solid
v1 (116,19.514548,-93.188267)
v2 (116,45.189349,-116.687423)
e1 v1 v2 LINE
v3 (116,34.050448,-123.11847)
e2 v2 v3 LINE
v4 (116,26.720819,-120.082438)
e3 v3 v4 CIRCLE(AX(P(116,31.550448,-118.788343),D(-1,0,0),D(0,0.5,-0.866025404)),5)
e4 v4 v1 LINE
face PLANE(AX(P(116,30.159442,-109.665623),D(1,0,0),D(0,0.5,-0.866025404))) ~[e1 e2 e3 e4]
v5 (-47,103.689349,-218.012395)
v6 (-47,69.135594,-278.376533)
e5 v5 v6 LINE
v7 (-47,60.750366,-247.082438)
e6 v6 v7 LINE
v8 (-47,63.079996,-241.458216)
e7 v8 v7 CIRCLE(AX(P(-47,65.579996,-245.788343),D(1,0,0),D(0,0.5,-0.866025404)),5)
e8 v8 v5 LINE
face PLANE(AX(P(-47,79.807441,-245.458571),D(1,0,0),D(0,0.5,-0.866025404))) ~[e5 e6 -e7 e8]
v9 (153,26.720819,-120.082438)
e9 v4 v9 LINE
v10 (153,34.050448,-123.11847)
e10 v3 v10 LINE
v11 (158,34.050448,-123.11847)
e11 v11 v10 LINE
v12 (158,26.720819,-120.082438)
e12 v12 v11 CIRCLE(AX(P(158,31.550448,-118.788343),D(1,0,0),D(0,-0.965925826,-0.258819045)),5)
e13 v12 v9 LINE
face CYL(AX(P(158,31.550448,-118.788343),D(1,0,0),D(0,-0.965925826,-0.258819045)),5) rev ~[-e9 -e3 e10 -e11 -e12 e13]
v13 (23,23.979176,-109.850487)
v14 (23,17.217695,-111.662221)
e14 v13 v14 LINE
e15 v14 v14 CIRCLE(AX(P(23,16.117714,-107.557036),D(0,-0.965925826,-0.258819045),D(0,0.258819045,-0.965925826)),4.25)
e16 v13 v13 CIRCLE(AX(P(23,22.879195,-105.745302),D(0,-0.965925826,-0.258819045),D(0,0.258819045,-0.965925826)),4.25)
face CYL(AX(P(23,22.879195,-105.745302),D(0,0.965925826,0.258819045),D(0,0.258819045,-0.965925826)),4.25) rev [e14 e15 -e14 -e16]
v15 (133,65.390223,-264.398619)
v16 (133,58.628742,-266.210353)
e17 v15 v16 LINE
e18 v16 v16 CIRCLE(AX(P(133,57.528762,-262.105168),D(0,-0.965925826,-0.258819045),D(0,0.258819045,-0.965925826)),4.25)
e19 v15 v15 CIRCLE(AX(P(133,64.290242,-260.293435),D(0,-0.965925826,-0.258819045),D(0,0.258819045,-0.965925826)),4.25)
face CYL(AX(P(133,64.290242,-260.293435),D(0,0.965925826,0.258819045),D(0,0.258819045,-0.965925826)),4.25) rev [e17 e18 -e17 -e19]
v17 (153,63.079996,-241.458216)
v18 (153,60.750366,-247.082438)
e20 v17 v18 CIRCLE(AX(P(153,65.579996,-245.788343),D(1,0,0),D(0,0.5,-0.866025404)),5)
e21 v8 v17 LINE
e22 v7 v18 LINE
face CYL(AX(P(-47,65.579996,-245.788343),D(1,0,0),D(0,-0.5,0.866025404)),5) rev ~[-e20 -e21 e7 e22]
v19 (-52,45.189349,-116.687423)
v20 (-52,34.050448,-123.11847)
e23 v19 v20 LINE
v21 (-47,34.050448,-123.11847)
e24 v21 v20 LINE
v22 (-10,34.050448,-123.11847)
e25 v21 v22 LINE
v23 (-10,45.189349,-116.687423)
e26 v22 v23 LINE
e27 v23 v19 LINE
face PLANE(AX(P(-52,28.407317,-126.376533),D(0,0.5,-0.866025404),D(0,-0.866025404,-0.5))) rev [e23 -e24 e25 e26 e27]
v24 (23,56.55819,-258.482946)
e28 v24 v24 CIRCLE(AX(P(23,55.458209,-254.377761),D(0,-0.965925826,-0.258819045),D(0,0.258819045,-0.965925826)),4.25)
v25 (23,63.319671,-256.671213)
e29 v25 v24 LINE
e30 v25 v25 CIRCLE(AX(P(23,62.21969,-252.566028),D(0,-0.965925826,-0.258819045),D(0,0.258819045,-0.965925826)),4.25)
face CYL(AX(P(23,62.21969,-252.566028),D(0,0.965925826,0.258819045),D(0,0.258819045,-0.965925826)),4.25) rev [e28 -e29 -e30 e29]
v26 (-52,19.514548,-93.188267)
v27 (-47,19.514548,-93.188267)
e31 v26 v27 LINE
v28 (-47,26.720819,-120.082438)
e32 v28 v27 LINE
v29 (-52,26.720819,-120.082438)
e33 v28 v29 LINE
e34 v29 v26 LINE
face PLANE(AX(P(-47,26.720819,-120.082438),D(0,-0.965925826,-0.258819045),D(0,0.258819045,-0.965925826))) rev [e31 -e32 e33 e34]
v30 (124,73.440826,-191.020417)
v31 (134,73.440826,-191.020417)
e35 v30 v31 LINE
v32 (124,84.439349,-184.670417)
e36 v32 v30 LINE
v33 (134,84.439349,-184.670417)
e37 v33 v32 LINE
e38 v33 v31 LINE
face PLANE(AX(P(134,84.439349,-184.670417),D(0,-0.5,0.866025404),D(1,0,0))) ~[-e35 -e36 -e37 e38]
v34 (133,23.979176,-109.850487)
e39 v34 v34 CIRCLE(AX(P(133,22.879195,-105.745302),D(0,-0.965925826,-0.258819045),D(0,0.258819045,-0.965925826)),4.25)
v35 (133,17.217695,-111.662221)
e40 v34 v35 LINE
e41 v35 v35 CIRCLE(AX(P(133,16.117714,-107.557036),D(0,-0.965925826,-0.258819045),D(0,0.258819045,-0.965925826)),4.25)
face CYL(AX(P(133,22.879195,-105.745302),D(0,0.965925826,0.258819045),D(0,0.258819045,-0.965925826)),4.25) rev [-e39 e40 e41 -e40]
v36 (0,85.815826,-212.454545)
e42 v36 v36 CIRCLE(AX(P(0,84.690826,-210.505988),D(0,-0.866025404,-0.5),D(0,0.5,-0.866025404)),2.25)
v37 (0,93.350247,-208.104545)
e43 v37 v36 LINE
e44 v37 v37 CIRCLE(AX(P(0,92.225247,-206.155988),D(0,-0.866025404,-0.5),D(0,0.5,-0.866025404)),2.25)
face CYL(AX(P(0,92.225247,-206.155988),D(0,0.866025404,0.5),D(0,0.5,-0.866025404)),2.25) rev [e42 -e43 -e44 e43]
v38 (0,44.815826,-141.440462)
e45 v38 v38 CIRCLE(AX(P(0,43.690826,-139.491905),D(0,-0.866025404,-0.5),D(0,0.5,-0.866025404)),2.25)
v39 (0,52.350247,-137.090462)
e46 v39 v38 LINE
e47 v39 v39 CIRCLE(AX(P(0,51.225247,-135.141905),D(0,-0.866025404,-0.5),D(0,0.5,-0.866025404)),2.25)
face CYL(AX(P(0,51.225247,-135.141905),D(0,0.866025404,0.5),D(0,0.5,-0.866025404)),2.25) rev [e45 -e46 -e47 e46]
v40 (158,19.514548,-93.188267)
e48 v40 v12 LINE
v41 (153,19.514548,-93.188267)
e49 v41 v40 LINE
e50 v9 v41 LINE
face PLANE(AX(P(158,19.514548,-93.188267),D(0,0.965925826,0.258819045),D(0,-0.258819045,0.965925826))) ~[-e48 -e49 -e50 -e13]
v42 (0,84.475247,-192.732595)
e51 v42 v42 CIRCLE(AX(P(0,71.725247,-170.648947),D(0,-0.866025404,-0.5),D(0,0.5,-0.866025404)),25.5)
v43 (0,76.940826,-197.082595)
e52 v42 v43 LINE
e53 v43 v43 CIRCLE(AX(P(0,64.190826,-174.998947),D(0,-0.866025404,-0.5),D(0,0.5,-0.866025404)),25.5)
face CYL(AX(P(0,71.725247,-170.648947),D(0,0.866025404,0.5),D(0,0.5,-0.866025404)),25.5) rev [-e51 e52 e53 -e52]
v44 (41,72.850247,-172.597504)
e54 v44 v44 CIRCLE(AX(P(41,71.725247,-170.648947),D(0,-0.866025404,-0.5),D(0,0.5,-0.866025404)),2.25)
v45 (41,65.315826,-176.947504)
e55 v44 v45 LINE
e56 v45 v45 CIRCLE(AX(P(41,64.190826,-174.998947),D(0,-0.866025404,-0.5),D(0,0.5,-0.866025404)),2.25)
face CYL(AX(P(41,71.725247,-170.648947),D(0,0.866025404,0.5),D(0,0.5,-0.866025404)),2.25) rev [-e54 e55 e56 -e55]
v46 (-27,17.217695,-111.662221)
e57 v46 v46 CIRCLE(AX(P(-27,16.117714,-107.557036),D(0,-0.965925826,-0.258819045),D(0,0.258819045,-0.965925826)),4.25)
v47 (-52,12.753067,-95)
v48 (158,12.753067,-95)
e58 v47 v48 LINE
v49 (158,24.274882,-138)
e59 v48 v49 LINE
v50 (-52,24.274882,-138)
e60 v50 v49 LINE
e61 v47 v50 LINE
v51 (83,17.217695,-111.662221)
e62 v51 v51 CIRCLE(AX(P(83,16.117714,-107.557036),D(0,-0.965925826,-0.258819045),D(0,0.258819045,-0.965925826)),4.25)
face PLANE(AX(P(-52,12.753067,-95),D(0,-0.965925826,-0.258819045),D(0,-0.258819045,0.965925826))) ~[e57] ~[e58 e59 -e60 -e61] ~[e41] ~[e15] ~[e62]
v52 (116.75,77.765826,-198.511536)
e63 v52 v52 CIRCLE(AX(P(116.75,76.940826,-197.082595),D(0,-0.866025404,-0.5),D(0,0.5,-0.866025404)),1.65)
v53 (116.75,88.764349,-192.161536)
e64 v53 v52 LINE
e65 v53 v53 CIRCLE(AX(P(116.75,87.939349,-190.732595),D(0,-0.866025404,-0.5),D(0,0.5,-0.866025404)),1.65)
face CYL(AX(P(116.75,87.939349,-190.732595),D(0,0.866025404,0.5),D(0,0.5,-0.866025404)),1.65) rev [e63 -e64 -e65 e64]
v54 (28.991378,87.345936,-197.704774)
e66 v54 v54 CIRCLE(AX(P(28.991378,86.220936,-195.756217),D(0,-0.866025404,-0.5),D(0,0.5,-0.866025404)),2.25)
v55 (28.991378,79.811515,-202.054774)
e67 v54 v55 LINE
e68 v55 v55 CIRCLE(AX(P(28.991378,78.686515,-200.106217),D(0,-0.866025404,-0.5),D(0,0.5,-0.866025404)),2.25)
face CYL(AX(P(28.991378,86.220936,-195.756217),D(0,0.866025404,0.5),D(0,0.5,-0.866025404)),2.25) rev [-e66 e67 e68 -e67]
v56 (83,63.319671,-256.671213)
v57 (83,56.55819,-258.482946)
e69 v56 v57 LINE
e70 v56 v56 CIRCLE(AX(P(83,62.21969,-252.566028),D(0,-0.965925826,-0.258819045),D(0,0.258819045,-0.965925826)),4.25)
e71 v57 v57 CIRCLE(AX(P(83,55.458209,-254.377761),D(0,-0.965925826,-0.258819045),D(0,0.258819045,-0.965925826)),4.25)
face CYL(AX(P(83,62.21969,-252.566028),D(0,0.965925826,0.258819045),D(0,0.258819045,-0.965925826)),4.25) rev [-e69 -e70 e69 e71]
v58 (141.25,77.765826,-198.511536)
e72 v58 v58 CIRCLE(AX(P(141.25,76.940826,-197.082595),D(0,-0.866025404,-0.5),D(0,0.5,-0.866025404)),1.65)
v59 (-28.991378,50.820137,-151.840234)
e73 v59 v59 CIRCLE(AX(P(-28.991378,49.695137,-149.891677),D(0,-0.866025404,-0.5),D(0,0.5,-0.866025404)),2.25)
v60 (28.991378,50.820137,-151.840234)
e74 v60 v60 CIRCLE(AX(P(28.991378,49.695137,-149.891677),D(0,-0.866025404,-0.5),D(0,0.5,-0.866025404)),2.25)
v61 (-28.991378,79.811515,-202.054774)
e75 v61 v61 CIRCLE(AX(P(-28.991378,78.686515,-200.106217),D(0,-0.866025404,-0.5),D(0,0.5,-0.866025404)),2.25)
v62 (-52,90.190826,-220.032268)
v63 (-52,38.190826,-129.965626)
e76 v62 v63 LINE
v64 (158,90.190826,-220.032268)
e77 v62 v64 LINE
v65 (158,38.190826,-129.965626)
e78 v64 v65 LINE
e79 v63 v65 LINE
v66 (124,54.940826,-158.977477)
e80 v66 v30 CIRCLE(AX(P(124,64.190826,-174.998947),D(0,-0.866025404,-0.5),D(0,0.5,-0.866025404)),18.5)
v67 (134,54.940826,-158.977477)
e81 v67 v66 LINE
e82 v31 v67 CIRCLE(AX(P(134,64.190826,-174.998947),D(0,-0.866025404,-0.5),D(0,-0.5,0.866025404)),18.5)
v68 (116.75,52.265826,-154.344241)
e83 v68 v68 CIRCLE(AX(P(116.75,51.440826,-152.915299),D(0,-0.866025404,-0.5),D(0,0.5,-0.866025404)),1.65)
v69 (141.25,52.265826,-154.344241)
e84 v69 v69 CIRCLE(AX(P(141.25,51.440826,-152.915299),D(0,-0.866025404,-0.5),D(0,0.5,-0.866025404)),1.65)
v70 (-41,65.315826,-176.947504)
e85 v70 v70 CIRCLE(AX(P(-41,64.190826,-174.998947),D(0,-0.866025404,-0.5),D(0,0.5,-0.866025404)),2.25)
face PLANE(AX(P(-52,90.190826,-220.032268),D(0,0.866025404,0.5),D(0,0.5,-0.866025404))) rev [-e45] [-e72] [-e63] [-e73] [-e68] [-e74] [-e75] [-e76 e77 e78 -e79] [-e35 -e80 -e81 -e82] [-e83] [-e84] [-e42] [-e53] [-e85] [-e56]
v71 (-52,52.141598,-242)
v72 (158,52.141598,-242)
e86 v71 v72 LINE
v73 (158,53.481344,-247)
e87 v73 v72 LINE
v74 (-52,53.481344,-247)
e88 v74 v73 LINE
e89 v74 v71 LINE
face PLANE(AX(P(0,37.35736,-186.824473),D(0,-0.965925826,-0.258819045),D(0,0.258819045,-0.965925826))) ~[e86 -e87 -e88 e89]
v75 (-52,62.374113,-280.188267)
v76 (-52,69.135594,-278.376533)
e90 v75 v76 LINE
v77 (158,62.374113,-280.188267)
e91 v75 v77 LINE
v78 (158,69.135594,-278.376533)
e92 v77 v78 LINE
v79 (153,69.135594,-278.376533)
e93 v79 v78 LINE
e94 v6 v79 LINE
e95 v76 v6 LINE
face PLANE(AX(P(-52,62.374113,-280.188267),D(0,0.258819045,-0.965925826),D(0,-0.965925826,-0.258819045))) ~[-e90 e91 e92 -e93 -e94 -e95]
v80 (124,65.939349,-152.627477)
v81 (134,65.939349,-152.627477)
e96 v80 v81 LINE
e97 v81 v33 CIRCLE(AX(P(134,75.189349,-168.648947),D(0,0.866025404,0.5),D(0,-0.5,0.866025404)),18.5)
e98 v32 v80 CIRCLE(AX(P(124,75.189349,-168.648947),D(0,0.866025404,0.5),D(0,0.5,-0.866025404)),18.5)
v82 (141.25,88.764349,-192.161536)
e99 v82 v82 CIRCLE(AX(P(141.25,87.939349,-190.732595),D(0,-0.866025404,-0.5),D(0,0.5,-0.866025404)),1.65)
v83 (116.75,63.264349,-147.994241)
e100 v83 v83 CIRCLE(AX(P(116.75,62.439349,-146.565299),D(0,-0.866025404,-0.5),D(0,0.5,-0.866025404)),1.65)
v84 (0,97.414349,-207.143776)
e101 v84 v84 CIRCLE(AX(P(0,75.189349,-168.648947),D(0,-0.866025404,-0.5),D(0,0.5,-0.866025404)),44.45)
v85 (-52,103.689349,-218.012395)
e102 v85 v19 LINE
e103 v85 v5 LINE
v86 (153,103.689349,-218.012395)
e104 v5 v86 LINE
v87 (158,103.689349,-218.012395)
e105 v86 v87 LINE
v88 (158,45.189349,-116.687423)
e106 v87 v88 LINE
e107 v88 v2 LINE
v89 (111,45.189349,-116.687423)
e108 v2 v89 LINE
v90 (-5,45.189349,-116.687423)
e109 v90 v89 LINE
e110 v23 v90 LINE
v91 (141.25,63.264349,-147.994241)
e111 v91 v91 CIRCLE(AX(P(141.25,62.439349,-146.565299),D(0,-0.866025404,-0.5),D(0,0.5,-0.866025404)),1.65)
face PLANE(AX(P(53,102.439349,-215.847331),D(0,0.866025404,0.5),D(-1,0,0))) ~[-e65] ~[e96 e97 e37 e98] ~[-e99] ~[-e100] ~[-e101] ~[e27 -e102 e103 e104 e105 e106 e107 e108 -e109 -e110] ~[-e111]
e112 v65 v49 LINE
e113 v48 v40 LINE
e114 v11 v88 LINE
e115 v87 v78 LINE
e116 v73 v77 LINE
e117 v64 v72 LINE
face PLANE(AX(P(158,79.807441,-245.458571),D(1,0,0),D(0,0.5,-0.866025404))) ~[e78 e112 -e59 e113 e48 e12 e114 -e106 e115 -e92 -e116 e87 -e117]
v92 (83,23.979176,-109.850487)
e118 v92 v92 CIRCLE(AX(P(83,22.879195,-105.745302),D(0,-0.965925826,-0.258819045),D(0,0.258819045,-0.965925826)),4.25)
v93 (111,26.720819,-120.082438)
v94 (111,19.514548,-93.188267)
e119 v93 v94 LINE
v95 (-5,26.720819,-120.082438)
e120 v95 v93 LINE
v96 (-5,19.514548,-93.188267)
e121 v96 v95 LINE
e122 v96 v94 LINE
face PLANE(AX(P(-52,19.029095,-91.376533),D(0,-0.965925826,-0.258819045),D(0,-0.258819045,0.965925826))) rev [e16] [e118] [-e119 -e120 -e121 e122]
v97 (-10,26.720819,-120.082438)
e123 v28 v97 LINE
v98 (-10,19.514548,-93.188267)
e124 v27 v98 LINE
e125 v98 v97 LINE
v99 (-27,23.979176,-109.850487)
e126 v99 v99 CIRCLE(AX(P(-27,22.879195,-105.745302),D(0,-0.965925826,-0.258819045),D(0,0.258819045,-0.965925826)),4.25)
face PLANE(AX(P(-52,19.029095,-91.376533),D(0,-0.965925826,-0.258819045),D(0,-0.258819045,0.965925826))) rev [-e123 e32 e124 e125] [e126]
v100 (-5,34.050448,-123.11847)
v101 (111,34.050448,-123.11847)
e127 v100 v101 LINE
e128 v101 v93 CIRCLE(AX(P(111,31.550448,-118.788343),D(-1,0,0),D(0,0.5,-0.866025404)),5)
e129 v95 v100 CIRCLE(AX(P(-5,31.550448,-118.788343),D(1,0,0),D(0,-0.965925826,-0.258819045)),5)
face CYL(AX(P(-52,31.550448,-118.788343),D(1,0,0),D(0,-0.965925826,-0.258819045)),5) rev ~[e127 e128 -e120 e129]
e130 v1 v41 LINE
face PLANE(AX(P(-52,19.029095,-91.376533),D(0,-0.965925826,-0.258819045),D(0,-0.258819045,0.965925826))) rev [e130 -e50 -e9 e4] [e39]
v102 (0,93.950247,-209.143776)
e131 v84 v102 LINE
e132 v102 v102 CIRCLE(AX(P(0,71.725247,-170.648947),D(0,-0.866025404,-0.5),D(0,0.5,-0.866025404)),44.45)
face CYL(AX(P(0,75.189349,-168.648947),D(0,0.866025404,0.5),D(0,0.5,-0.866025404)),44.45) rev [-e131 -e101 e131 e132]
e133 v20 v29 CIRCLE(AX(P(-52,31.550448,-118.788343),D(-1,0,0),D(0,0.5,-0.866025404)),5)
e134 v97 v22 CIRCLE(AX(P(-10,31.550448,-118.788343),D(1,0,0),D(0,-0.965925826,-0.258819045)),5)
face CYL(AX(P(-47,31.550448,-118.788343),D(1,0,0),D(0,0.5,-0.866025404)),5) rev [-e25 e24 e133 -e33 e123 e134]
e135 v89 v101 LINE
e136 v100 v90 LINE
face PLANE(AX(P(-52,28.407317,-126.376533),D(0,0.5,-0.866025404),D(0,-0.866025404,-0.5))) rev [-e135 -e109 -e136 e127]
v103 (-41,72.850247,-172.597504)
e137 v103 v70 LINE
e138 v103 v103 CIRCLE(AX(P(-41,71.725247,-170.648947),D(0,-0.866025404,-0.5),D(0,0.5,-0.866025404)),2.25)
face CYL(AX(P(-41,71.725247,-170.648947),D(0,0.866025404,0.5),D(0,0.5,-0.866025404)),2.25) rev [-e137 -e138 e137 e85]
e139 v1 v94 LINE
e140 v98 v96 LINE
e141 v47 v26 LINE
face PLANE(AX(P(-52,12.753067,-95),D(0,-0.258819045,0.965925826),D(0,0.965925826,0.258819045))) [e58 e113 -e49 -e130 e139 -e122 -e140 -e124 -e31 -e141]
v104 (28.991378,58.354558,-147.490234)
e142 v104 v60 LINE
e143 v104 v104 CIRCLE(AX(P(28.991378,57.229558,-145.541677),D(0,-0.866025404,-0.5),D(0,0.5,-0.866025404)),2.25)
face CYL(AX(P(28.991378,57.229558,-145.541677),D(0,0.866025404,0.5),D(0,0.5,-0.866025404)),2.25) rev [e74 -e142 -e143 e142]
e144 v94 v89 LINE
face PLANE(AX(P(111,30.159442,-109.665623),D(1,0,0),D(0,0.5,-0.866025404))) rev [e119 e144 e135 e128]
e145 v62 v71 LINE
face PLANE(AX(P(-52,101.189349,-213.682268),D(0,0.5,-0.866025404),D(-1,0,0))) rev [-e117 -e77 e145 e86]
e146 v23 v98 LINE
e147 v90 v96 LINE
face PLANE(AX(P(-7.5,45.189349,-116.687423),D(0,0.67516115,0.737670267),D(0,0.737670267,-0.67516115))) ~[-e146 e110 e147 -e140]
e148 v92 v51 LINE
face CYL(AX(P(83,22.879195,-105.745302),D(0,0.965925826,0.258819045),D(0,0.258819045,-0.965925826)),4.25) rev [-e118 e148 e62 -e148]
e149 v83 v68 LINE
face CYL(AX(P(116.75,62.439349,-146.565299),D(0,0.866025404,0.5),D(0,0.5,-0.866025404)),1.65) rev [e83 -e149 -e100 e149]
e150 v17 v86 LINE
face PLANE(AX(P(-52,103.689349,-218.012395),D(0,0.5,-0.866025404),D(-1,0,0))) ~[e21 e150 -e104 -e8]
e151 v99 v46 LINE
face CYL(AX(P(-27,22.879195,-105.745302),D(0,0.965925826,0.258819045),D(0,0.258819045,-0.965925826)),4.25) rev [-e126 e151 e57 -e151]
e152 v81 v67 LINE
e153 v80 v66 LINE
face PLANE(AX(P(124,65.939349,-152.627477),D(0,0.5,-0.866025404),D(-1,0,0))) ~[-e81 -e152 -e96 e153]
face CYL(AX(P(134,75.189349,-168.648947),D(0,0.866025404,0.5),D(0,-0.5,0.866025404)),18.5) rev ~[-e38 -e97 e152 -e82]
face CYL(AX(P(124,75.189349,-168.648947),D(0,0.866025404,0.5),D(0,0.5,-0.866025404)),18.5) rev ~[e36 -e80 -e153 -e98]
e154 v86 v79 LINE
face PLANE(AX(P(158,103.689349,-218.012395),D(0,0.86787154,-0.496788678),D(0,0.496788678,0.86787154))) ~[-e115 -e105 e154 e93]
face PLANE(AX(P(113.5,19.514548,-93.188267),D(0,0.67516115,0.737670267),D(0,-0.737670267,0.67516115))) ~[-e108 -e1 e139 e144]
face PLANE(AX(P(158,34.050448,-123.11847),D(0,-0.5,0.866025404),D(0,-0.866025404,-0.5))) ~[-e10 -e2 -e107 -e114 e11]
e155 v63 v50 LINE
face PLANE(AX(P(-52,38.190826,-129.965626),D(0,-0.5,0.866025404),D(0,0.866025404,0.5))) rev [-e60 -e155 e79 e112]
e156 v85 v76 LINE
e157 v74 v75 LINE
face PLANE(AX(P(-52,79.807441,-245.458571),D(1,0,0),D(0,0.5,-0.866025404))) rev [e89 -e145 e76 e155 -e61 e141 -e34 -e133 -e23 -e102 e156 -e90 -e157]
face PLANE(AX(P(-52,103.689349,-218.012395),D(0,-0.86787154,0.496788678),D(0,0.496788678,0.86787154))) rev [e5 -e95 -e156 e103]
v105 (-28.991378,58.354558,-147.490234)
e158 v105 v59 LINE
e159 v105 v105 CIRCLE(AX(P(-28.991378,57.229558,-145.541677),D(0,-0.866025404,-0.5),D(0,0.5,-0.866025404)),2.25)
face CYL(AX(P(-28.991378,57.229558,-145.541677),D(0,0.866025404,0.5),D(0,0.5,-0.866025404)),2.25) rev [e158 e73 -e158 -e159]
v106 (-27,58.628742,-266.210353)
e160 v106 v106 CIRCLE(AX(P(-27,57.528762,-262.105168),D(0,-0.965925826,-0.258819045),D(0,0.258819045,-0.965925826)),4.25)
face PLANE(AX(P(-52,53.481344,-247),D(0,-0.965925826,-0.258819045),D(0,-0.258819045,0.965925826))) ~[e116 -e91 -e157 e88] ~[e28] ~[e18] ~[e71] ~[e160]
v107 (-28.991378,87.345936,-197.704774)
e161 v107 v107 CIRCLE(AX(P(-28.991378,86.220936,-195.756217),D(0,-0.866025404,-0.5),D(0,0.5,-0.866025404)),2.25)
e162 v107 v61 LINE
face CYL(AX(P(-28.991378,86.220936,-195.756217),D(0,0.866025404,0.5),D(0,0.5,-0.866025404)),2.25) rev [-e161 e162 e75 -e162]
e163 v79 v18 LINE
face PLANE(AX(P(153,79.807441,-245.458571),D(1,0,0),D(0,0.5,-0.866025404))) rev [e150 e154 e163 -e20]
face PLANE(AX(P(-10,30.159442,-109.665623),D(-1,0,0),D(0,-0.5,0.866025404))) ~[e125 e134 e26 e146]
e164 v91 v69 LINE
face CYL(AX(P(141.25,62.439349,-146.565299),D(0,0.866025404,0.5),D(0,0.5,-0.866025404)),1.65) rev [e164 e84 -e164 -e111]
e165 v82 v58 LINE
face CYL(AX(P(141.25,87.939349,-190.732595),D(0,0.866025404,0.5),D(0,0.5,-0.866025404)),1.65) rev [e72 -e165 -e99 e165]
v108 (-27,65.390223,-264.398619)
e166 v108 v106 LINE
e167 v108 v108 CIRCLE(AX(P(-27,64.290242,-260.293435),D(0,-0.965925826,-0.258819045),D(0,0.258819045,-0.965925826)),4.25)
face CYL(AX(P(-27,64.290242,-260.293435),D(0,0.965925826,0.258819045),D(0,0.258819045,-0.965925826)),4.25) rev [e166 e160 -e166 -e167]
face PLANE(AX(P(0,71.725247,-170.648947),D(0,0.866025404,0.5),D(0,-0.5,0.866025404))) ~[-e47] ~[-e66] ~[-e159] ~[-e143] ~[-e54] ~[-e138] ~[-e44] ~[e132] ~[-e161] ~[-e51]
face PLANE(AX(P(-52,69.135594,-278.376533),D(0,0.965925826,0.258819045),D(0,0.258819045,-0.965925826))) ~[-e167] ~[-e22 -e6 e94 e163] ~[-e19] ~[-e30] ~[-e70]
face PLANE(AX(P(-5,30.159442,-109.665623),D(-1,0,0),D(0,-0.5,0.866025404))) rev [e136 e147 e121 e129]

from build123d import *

# Parameters (mm, degrees)
EXTRUDE_1_DEPTH      = 30
SKETCH_2_R           = 44.45
CUT_EXTRUDE_1_DEPTH  = 4
SKETCH_3_R           = 25.5
SKETCH_3_R_2         = 2.25
CUT_EXTRUDE_2_DEPTH  = 188.619295383
CUT_EXTRUDE_3_DEPTH  = 189.215302247
SKETCH_5_R           = 1.65
CUT_EXTRUDE_4_DEPTH  = 189.215302247
EXTRUDE_START        = -30
EXTRUDE_2_DEPTH      = 30
CUT_EXTRUDE_5_DEPTH  = 198.040604952
CUT_EXTRUDE_7_DEPTH  = 233.432785983
CUT_EXTRUDE_8_DEPTH  = 233.432785983
CUT_EXTRUDE_9_DEPTH  = 233.432785983
FILLET_1_R           = 5
CUT_EXTRUDE_10_DEPTH = 233.432785983
EXTRUDE_START_2      = -5
EXTRUDE_3_DEPTH      = 5
EXTRUDE_4_DEPTH      = 5
SKETCH_14_R          = 4.25
CUT_EXTRUDE_11_DEPTH = 189.364728478
SKETCH_16_W          = 43
SKETCH_16_H          = 30
CUT_EXTRUDE_12_DEPTH = 233.432785983
EXTRUDE_7_REACH      = 188.592
SKETCH_18_W          = 210
SKETCH_18_H          = 5
EXTRUDE_8_DEPTH      = 210
EXTRUDE_9_DEPTH      = 5
EXTRUDE_10_DEPTH     = 5
SKETCH_22_R          = 4.25
CUT_EXTRUDE_13_DEPTH = 187.984035343
FILLET_2_R           = 5
EXTRUDE_11_DEPTH     = 2.5
CUT_EXTRUDE_START    = -5
CUT_EXTRUDE_16_DEPTH = 5
EXTRUDE_12_DEPTH     = 2.5
CUT_EXTRUDE_18_DEPTH = 5
CUT_EXTRUDE_19_DEPTH = 366.180703078


with BuildPart() as part:
    # 草图1 → 凸台-拉伸1 (new body)
    with BuildSketch(Plane(origin=(0, 0, 0), x_dir=(1, 0, 0), z_dir=(0, 1, 0))):
        with BuildLine():
            Line((170, 31.93), (170, -31.93))
            ThreePointArc((170, -31.93), (167.781993847, -38.210172909), (162.111885646, -41.704453387))
            Line((162.111885646, -41.704453387), (15.839142344, -73.308400404))
            ThreePointArc((15.839142344, -73.308400404), (-75, 0), (15.839142344, 73.308400404))
            Line((15.839142344, 73.308400404), (162.111885646, 41.704453387))
            ThreePointArc((162.111885646, 41.704453387), (167.781993847, 38.210172909), (170, 31.93))
        make_face()
    extrude(amount=EXTRUDE_1_DEPTH)

    # 草图2 → 切除-拉伸1 (cut)
    with BuildSketch(Plane(origin=(0, 30, 0), x_dir=(1, 0, 0), z_dir=(0, 1, 0))):
        with Locations(Location((0, 0, 0), (0, 0, 270))):
            Circle(SKETCH_2_R)
    extrude(amount=-CUT_EXTRUDE_1_DEPTH, mode=Mode.SUBTRACT)

    # 草图3 → 切除-拉伸2 (cut, through all)
    with BuildSketch(Plane(origin=(0, 26, 0), x_dir=(1, 0, 0), z_dir=(0, 1, 0))):
        with Locations(Location((0, 0, 0), (0, 0, 270))):
            Circle(SKETCH_3_R)
        with Locations(Location((0, 41, 0), (0, 0, 270))):
            Circle(SKETCH_3_R_2)
        with Locations(Location((28.991378029, 28.991378029, 0), (0, 0, 270))):
            Circle(SKETCH_3_R_2)
        with Locations(Location((41, 0, 0), (0, 0, 270))):
            Circle(SKETCH_3_R_2)
        with Locations(Location((28.991378029, -28.991378029, 0), (0, 0, 270))):
            Circle(SKETCH_3_R_2)
        with Locations(Location((0, -41, 0), (0, 0, 270))):
            Circle(SKETCH_3_R_2)
        with Locations(Location((-28.991378029, -28.991378029, 0), (0, 0, 270))):
            Circle(SKETCH_3_R_2)
        with Locations(Location((-41, 0, 0), (0, 0, 270))):
            Circle(SKETCH_3_R_2)
        with Locations(Location((-28.991378029, 28.991378029, 0), (0, 0, 270))):
            Circle(SKETCH_3_R_2)
    extrude(amount=-CUT_EXTRUDE_2_DEPTH, mode=Mode.SUBTRACT)

    # 草图4 → 切除-拉伸3 (cut, through all)
    with BuildSketch(Plane(origin=(0, 30, 0), x_dir=(1, 0, 0), z_dir=(0, 1, 0))):
        with BuildLine():
            Line((124, 18.5), (134, 18.5))
            ThreePointArc((134, 18.5), (152.5, 0), (134, -18.5))
            Line((134, -18.5), (124, -18.5))
            ThreePointArc((124, -18.5), (105.5, 0), (124, 18.5))
        make_face()
    extrude(amount=-CUT_EXTRUDE_3_DEPTH, mode=Mode.SUBTRACT)

    # 草图5 → 切除-拉伸4 (cut, through all)
    with BuildSketch(Plane(origin=(0, 30, 0), x_dir=(1, 0, 0), z_dir=(0, 1, 0))):
        with Locations(Location((116.75, 25.5, 0), (0, 0, 270))):
            Circle(SKETCH_5_R)
        with Locations(Location((141.25, 25.5, 0), (0, 0, 270))):
            Circle(SKETCH_5_R)
        with Locations(Location((141.25, -25.5, 0), (0, 0, 270))):
            Circle(SKETCH_5_R)
        with Locations(Location((116.75, -25.5, 0), (0, 0, 270))):
            Circle(SKETCH_5_R)
    extrude(amount=-CUT_EXTRUDE_4_DEPTH, mode=Mode.SUBTRACT)

    # 草图6 → 凸台-拉伸2 (add)
    with BuildSketch(Plane(origin=(0, 30, 0), x_dir=(1, 0, 0), z_dir=(0, 1, 0)).offset(EXTRUDE_START)):
        with BuildLine():
            Line((158, 95), (-52, 95))
            Line((-52, 95), (-52, 54.046276467))
            ThreePointArc((-52, 54.046276467), (-20.48558667, 72.148047366), (15.839142344, 73.308400404))
            Line((15.839142344, 73.308400404), (158, 42.592874655))
            Line((158, 42.592874655), (158, 95))
        make_face()
        with BuildLine():
            ThreePointArc((15.839142344, -73.308400404), (-20.48558667, -72.148047366), (-52, -54.046276467))
            Line((-52, -54.046276467), (-52, -95))
            Line((-52, -95), (158, -95))
            Line((158, -95), (158, -42.592874655))
            Line((158, -42.592874655), (15.839142344, -73.308400404))
        make_face()
    extrude(amount=EXTRUDE_2_DEPTH)

    # 草图7 → 切除-拉伸5 (cut, through all)
    with BuildSketch(Plane(origin=(0, 30, 0), x_dir=(1, 0, 0), z_dir=(0, 1, 0))):
        with BuildLine():
            Line((-52, 54.046276467), (-52, -54.046276467))
            ThreePointArc((-52, -54.046276467), (-75, 0), (-52, 54.046276467))
        make_face()
        with BuildLine():
            Line((158, 42.592874655), (158, -42.592874655))
            Line((158, -42.592874655), (162.111885646, -41.704453387))
            ThreePointArc((162.111885646, -41.704453387), (167.781993847, -38.210172909), (170, -31.93))
            Line((170, -31.93), (170, 31.93))
            ThreePointArc((170, 31.93), (167.781993847, 38.210172909), (162.111885646, 41.704453387))
            Line((162.111885646, 41.704453387), (158, 42.592874655))
        make_face()
    extrude(amount=-CUT_EXTRUDE_5_DEPTH, mode=Mode.SUBTRACT)

    # 草图9 → 切除-拉伸7 (cut, through all)
    with BuildSketch(Plane.ZY.offset(52)):
        Polygon((-95, 20), (-60, 10.621778265), (-60, 30), (-95, 30), align=None)
    extrude(amount=-CUT_EXTRUDE_7_DEPTH, mode=Mode.SUBTRACT)

    # 草图10 → 切除-拉伸8 (cut, through all)
    with BuildSketch(Plane.ZY.offset(52)):
        Polygon((-95, 12.753066737), (-52, 1.231251463), (-52, 0), (-95, 0), align=None)
    extrude(amount=-CUT_EXTRUDE_8_DEPTH, mode=Mode.SUBTRACT)

    # 草图8 → 切除-拉伸9 (cut, through all)
    with BuildSketch(Plane.ZY.offset(52)):
        Polygon((0, 0), (52, 0), (52, 17.3), (-52, 17.3), (-52, 0), align=None)
    extrude(amount=-CUT_EXTRUDE_9_DEPTH, mode=Mode.SUBTRACT)

    # 圆角1
    fillet_1_edges = [part.edges().sort_by_distance(p)[0] for p in [
        (53, 10.621778265, -60),
    ]]
    fillet(fillet_1_edges, radius=FILLET_1_R)

    # 草图11 → 切除-拉伸10 (cut, through all)
    with BuildSketch(Plane.ZY.offset(52)):
        Polygon((-95, 12.753066737), (-93.188266684, 19.514547521), (-95, 20), align=None)
    extrude(amount=-CUT_EXTRUDE_10_DEPTH, mode=Mode.SUBTRACT)

    # 草图12 → 凸台-拉伸3 (add)
    with BuildSketch(Plane.ZY.offset(52).offset(EXTRUDE_START_2)):
        with BuildLine():
            Line((-93.188266684, 19.514547521), (-60, 30))
            Line((-60, 30), (-60, 17.137905129))
            ThreePointArc((-60, 17.137905129), (-61.956192855, 13.171138428), (-66.294095226, 12.308275998))
            Line((-66.294095226, 12.308275998), (-93.188266684, 19.514547521))
        make_face()
    extrude(amount=EXTRUDE_3_DEPTH)

    # 草图13 → 凸台-拉伸4 (add)
    with BuildSketch(Plane(origin=(158, 0, 0), x_dir=(0, 0, -1), z_dir=(1, 0, 0))):
        with BuildLine():
            Line((66.294095226, 12.308275998), (93.188266684, 19.514547521))
            Line((93.188266684, 19.514547521), (60, 30))
            Line((60, 30), (60, 17.137905129))
            ThreePointArc((60, 17.137905129), (61.956192855, 13.171138428), (66.294095226, 12.308275998))
        make_face()
    extrude(amount=-EXTRUDE_4_DEPTH)

    # 草图14 → 切除-拉伸11 (cut, through all)
    with BuildSketch(Plane(origin=(0, -5.089745962, -1.36379332), x_dir=(1, 0, 0), z_dir=(0, 0.9659258262890681, 0.2588190451025214))):
        with Locations(Location((-27, 82.063690052, 0), (0, 0, 270))):
            Circle(SKETCH_14_R)
        with Locations(Location((23, 82.063690052, 0), (0, 0, 270))):
            Circle(SKETCH_14_R)
        with Locations(Location((83, 82.063690052, 0), (0, 0, 270))):
            Circle(SKETCH_14_R)
        with Locations(Location((133, 82.063690052, 0), (0, 0, 270))):
            Circle(SKETCH_14_R)
    extrude(amount=-CUT_EXTRUDE_11_DEPTH, mode=Mode.SUBTRACT)

    # 草图16 → 切除-拉伸12 (cut, through all)
    with BuildSketch(Plane.ZY.offset(52)):
        with Locations((73.5, 15)):
            Rectangle(SKETCH_16_W, SKETCH_16_H)
    extrude(amount=-CUT_EXTRUDE_12_DEPTH, mode=Mode.SUBTRACT)

    # 凸台-拉伸7: up to this plane
    extrude_7_end = Plane(origin=(0, -11.851226746, -3.175526636), z_dir=(0, -0.9659258262890681, -0.25881904510252146))
    # 草图18 → 凸台-拉伸7 (add, up to the surface)
    with BuildSketch(Plane(origin=(0, 30, 0), x_dir=(1, 0, 0), z_dir=(0, 1, 0)), mode=Mode.PRIVATE) as extrude_7_sk1:
        with Locations((53, -54.5)):
            Rectangle(SKETCH_18_W, SKETCH_18_H)
    extrude_7_tool1 = split(extrude(extrude_7_sk1.sketch, amount=-EXTRUDE_7_REACH, mode=Mode.PRIVATE), bisect_by=extrude_7_end, keep=Keep.BOTH, mode=Mode.PRIVATE)
    add(extrude_7_tool1.solids().sort_by_distance((53, 30, 54.5))[0])

    # 草图19 → 凸台-拉伸8 (add)
    with BuildSketch(Plane.ZY.offset(52)):
        Polygon((57, -27.975210512), (90.188266684, -36.867979769), (92, -30.106498985), (57, -20.72827725), align=None)
    extrude(amount=-EXTRUDE_8_DEPTH)

    # 草图20 → 凸台-拉伸9 (add)
    with BuildSketch(Plane.ZY.offset(52)):
        Polygon((92, -30.106498985), (57, -20.72827725), (57, 30), align=None)
    extrude(amount=-EXTRUDE_9_DEPTH)

    # 草图21 → 凸台-拉伸10 (add)
    with BuildSketch(Plane(origin=(158, 0, 0), x_dir=(0, 0, -1), z_dir=(1, 0, 0))):
        Polygon((-57, 30), (-92, -30.106498985), (-57, -20.72827725), align=None)
    extrude(amount=-EXTRUDE_10_DEPTH)

    # 草图22 → 切除-拉伸13 (cut, through all)
    with BuildSketch(Plane(origin=(0, -5.089745962, -1.36379332), x_dir=(1, 0, 0), z_dir=(0, 0.9659258262890686, 0.25881904510251946))):
        with Locations(Location((-27, -77.936309948, 0), (0, 0, 270))):
            Circle(SKETCH_22_R)
        with Locations(Location((23, -69.936309948, 0), (0, 0, 270))):
            Circle(SKETCH_22_R)
        with Locations(Location((83, -69.936309948, 0), (0, 0, 270))):
            Circle(SKETCH_22_R)
        with Locations(Location((133, -77.936309948, 0), (0, 0, 270))):
            Circle(SKETCH_22_R)
    extrude(amount=-CUT_EXTRUDE_13_DEPTH, mode=Mode.SUBTRACT)

    # 圆角2
    fillet_2_edges = [part.edges().sort_by_distance(p)[0] for p in [
        (53, -20.72827725, 57),
    ]]
    fillet(fillet_2_edges, radius=FILLET_2_R)

    # 草图27 → 凸台-拉伸11 (add, symmetric)
    with BuildSketch(Plane(origin=(113.5, 0, 0), x_dir=(0, 0, -1), z_dir=(1, 0, 0))):
        with BuildLine():
            Line((60, 30), (60, 17.137905129))
            ThreePointArc((60, 17.137905129), (61.956192855, 13.171138428), (66.294095226, 12.308275998))
            Line((66.294095226, 12.308275998), (93.188266684, 19.514547521))
            Line((93.188266684, 19.514547521), (60, 30))
        make_face()
    extrude(amount=EXTRUDE_11_DEPTH, both=True)

    # 草图29 → 切除-拉伸16 (cut)
    with BuildSketch(Plane.ZY.offset(-153).offset(CUT_EXTRUDE_START)):
        with BuildLine():
            Line((-60, 17.137905129), (-60, 30))
            Line((-60, 30), (-93.188266684, 19.514547521))
            Line((-93.188266684, 19.514547521), (-66.294095226, 12.308275998))
            ThreePointArc((-66.294095226, 12.308275998), (-61.956192855, 13.171138428), (-60, 17.137905129))
        make_face()
    extrude(amount=CUT_EXTRUDE_16_DEPTH, mode=Mode.SUBTRACT)

    # 草图30 → 凸台-拉伸12 (add, symmetric)
    with BuildSketch(Plane.ZY.offset(7.5)):
        with BuildLine():
            Line((-93.188266684, 19.514547521), (-66.294095226, 12.308275998))
            ThreePointArc((-66.294095226, 12.308275998), (-61.956192855, 13.171138428), (-60, 17.137905129))
            Line((-60, 17.137905129), (-60, 30))
            Line((-60, 30), (-93.188266684, 19.514547521))
        make_face()
    extrude(amount=EXTRUDE_12_DEPTH, both=True)

    # 草图31 → 切除-拉伸18 (cut)
    with BuildSketch(Plane(origin=(-47, 0, 0), x_dir=(0, 0, -1), z_dir=(1, 0, 0))):
        with BuildLine():
            Line((66.294095226, 12.308275998), (93.188266684, 19.514547521))
            Line((93.188266684, 19.514547521), (60, 30))
            Line((60, 30), (60, 17.137905129))
            ThreePointArc((60, 17.137905129), (61.956192855, 13.171138428), (66.294095226, 12.308275998))
        make_face()
    extrude(amount=-CUT_EXTRUDE_18_DEPTH, mode=Mode.SUBTRACT)

    # 镜向2: part across plane


with BuildPart() as part_1:
    add(part.part)
    add(part.part.mirror(Plane(origin=(158, 12.753066737, -95), x_dir=(1, 0, 0), z_dir=(0, -0.2588190451025203, 0.9659258262890684))))

    # 草图32 → 切除-拉伸19 (cut, through all)
    with BuildSketch(Plane.ZY.offset(52)):
        Polygon((-93.188266684, 19.514547521), (-80.506197372, 66.84467454), (104.682069312, 17.223628034), (90.188266684, -36.867979769), (-95, 12.753066737), align=None)
    extrude(amount=-CUT_EXTRUDE_19_DEPTH, mode=Mode.SUBTRACT)


solid = part_1.part
